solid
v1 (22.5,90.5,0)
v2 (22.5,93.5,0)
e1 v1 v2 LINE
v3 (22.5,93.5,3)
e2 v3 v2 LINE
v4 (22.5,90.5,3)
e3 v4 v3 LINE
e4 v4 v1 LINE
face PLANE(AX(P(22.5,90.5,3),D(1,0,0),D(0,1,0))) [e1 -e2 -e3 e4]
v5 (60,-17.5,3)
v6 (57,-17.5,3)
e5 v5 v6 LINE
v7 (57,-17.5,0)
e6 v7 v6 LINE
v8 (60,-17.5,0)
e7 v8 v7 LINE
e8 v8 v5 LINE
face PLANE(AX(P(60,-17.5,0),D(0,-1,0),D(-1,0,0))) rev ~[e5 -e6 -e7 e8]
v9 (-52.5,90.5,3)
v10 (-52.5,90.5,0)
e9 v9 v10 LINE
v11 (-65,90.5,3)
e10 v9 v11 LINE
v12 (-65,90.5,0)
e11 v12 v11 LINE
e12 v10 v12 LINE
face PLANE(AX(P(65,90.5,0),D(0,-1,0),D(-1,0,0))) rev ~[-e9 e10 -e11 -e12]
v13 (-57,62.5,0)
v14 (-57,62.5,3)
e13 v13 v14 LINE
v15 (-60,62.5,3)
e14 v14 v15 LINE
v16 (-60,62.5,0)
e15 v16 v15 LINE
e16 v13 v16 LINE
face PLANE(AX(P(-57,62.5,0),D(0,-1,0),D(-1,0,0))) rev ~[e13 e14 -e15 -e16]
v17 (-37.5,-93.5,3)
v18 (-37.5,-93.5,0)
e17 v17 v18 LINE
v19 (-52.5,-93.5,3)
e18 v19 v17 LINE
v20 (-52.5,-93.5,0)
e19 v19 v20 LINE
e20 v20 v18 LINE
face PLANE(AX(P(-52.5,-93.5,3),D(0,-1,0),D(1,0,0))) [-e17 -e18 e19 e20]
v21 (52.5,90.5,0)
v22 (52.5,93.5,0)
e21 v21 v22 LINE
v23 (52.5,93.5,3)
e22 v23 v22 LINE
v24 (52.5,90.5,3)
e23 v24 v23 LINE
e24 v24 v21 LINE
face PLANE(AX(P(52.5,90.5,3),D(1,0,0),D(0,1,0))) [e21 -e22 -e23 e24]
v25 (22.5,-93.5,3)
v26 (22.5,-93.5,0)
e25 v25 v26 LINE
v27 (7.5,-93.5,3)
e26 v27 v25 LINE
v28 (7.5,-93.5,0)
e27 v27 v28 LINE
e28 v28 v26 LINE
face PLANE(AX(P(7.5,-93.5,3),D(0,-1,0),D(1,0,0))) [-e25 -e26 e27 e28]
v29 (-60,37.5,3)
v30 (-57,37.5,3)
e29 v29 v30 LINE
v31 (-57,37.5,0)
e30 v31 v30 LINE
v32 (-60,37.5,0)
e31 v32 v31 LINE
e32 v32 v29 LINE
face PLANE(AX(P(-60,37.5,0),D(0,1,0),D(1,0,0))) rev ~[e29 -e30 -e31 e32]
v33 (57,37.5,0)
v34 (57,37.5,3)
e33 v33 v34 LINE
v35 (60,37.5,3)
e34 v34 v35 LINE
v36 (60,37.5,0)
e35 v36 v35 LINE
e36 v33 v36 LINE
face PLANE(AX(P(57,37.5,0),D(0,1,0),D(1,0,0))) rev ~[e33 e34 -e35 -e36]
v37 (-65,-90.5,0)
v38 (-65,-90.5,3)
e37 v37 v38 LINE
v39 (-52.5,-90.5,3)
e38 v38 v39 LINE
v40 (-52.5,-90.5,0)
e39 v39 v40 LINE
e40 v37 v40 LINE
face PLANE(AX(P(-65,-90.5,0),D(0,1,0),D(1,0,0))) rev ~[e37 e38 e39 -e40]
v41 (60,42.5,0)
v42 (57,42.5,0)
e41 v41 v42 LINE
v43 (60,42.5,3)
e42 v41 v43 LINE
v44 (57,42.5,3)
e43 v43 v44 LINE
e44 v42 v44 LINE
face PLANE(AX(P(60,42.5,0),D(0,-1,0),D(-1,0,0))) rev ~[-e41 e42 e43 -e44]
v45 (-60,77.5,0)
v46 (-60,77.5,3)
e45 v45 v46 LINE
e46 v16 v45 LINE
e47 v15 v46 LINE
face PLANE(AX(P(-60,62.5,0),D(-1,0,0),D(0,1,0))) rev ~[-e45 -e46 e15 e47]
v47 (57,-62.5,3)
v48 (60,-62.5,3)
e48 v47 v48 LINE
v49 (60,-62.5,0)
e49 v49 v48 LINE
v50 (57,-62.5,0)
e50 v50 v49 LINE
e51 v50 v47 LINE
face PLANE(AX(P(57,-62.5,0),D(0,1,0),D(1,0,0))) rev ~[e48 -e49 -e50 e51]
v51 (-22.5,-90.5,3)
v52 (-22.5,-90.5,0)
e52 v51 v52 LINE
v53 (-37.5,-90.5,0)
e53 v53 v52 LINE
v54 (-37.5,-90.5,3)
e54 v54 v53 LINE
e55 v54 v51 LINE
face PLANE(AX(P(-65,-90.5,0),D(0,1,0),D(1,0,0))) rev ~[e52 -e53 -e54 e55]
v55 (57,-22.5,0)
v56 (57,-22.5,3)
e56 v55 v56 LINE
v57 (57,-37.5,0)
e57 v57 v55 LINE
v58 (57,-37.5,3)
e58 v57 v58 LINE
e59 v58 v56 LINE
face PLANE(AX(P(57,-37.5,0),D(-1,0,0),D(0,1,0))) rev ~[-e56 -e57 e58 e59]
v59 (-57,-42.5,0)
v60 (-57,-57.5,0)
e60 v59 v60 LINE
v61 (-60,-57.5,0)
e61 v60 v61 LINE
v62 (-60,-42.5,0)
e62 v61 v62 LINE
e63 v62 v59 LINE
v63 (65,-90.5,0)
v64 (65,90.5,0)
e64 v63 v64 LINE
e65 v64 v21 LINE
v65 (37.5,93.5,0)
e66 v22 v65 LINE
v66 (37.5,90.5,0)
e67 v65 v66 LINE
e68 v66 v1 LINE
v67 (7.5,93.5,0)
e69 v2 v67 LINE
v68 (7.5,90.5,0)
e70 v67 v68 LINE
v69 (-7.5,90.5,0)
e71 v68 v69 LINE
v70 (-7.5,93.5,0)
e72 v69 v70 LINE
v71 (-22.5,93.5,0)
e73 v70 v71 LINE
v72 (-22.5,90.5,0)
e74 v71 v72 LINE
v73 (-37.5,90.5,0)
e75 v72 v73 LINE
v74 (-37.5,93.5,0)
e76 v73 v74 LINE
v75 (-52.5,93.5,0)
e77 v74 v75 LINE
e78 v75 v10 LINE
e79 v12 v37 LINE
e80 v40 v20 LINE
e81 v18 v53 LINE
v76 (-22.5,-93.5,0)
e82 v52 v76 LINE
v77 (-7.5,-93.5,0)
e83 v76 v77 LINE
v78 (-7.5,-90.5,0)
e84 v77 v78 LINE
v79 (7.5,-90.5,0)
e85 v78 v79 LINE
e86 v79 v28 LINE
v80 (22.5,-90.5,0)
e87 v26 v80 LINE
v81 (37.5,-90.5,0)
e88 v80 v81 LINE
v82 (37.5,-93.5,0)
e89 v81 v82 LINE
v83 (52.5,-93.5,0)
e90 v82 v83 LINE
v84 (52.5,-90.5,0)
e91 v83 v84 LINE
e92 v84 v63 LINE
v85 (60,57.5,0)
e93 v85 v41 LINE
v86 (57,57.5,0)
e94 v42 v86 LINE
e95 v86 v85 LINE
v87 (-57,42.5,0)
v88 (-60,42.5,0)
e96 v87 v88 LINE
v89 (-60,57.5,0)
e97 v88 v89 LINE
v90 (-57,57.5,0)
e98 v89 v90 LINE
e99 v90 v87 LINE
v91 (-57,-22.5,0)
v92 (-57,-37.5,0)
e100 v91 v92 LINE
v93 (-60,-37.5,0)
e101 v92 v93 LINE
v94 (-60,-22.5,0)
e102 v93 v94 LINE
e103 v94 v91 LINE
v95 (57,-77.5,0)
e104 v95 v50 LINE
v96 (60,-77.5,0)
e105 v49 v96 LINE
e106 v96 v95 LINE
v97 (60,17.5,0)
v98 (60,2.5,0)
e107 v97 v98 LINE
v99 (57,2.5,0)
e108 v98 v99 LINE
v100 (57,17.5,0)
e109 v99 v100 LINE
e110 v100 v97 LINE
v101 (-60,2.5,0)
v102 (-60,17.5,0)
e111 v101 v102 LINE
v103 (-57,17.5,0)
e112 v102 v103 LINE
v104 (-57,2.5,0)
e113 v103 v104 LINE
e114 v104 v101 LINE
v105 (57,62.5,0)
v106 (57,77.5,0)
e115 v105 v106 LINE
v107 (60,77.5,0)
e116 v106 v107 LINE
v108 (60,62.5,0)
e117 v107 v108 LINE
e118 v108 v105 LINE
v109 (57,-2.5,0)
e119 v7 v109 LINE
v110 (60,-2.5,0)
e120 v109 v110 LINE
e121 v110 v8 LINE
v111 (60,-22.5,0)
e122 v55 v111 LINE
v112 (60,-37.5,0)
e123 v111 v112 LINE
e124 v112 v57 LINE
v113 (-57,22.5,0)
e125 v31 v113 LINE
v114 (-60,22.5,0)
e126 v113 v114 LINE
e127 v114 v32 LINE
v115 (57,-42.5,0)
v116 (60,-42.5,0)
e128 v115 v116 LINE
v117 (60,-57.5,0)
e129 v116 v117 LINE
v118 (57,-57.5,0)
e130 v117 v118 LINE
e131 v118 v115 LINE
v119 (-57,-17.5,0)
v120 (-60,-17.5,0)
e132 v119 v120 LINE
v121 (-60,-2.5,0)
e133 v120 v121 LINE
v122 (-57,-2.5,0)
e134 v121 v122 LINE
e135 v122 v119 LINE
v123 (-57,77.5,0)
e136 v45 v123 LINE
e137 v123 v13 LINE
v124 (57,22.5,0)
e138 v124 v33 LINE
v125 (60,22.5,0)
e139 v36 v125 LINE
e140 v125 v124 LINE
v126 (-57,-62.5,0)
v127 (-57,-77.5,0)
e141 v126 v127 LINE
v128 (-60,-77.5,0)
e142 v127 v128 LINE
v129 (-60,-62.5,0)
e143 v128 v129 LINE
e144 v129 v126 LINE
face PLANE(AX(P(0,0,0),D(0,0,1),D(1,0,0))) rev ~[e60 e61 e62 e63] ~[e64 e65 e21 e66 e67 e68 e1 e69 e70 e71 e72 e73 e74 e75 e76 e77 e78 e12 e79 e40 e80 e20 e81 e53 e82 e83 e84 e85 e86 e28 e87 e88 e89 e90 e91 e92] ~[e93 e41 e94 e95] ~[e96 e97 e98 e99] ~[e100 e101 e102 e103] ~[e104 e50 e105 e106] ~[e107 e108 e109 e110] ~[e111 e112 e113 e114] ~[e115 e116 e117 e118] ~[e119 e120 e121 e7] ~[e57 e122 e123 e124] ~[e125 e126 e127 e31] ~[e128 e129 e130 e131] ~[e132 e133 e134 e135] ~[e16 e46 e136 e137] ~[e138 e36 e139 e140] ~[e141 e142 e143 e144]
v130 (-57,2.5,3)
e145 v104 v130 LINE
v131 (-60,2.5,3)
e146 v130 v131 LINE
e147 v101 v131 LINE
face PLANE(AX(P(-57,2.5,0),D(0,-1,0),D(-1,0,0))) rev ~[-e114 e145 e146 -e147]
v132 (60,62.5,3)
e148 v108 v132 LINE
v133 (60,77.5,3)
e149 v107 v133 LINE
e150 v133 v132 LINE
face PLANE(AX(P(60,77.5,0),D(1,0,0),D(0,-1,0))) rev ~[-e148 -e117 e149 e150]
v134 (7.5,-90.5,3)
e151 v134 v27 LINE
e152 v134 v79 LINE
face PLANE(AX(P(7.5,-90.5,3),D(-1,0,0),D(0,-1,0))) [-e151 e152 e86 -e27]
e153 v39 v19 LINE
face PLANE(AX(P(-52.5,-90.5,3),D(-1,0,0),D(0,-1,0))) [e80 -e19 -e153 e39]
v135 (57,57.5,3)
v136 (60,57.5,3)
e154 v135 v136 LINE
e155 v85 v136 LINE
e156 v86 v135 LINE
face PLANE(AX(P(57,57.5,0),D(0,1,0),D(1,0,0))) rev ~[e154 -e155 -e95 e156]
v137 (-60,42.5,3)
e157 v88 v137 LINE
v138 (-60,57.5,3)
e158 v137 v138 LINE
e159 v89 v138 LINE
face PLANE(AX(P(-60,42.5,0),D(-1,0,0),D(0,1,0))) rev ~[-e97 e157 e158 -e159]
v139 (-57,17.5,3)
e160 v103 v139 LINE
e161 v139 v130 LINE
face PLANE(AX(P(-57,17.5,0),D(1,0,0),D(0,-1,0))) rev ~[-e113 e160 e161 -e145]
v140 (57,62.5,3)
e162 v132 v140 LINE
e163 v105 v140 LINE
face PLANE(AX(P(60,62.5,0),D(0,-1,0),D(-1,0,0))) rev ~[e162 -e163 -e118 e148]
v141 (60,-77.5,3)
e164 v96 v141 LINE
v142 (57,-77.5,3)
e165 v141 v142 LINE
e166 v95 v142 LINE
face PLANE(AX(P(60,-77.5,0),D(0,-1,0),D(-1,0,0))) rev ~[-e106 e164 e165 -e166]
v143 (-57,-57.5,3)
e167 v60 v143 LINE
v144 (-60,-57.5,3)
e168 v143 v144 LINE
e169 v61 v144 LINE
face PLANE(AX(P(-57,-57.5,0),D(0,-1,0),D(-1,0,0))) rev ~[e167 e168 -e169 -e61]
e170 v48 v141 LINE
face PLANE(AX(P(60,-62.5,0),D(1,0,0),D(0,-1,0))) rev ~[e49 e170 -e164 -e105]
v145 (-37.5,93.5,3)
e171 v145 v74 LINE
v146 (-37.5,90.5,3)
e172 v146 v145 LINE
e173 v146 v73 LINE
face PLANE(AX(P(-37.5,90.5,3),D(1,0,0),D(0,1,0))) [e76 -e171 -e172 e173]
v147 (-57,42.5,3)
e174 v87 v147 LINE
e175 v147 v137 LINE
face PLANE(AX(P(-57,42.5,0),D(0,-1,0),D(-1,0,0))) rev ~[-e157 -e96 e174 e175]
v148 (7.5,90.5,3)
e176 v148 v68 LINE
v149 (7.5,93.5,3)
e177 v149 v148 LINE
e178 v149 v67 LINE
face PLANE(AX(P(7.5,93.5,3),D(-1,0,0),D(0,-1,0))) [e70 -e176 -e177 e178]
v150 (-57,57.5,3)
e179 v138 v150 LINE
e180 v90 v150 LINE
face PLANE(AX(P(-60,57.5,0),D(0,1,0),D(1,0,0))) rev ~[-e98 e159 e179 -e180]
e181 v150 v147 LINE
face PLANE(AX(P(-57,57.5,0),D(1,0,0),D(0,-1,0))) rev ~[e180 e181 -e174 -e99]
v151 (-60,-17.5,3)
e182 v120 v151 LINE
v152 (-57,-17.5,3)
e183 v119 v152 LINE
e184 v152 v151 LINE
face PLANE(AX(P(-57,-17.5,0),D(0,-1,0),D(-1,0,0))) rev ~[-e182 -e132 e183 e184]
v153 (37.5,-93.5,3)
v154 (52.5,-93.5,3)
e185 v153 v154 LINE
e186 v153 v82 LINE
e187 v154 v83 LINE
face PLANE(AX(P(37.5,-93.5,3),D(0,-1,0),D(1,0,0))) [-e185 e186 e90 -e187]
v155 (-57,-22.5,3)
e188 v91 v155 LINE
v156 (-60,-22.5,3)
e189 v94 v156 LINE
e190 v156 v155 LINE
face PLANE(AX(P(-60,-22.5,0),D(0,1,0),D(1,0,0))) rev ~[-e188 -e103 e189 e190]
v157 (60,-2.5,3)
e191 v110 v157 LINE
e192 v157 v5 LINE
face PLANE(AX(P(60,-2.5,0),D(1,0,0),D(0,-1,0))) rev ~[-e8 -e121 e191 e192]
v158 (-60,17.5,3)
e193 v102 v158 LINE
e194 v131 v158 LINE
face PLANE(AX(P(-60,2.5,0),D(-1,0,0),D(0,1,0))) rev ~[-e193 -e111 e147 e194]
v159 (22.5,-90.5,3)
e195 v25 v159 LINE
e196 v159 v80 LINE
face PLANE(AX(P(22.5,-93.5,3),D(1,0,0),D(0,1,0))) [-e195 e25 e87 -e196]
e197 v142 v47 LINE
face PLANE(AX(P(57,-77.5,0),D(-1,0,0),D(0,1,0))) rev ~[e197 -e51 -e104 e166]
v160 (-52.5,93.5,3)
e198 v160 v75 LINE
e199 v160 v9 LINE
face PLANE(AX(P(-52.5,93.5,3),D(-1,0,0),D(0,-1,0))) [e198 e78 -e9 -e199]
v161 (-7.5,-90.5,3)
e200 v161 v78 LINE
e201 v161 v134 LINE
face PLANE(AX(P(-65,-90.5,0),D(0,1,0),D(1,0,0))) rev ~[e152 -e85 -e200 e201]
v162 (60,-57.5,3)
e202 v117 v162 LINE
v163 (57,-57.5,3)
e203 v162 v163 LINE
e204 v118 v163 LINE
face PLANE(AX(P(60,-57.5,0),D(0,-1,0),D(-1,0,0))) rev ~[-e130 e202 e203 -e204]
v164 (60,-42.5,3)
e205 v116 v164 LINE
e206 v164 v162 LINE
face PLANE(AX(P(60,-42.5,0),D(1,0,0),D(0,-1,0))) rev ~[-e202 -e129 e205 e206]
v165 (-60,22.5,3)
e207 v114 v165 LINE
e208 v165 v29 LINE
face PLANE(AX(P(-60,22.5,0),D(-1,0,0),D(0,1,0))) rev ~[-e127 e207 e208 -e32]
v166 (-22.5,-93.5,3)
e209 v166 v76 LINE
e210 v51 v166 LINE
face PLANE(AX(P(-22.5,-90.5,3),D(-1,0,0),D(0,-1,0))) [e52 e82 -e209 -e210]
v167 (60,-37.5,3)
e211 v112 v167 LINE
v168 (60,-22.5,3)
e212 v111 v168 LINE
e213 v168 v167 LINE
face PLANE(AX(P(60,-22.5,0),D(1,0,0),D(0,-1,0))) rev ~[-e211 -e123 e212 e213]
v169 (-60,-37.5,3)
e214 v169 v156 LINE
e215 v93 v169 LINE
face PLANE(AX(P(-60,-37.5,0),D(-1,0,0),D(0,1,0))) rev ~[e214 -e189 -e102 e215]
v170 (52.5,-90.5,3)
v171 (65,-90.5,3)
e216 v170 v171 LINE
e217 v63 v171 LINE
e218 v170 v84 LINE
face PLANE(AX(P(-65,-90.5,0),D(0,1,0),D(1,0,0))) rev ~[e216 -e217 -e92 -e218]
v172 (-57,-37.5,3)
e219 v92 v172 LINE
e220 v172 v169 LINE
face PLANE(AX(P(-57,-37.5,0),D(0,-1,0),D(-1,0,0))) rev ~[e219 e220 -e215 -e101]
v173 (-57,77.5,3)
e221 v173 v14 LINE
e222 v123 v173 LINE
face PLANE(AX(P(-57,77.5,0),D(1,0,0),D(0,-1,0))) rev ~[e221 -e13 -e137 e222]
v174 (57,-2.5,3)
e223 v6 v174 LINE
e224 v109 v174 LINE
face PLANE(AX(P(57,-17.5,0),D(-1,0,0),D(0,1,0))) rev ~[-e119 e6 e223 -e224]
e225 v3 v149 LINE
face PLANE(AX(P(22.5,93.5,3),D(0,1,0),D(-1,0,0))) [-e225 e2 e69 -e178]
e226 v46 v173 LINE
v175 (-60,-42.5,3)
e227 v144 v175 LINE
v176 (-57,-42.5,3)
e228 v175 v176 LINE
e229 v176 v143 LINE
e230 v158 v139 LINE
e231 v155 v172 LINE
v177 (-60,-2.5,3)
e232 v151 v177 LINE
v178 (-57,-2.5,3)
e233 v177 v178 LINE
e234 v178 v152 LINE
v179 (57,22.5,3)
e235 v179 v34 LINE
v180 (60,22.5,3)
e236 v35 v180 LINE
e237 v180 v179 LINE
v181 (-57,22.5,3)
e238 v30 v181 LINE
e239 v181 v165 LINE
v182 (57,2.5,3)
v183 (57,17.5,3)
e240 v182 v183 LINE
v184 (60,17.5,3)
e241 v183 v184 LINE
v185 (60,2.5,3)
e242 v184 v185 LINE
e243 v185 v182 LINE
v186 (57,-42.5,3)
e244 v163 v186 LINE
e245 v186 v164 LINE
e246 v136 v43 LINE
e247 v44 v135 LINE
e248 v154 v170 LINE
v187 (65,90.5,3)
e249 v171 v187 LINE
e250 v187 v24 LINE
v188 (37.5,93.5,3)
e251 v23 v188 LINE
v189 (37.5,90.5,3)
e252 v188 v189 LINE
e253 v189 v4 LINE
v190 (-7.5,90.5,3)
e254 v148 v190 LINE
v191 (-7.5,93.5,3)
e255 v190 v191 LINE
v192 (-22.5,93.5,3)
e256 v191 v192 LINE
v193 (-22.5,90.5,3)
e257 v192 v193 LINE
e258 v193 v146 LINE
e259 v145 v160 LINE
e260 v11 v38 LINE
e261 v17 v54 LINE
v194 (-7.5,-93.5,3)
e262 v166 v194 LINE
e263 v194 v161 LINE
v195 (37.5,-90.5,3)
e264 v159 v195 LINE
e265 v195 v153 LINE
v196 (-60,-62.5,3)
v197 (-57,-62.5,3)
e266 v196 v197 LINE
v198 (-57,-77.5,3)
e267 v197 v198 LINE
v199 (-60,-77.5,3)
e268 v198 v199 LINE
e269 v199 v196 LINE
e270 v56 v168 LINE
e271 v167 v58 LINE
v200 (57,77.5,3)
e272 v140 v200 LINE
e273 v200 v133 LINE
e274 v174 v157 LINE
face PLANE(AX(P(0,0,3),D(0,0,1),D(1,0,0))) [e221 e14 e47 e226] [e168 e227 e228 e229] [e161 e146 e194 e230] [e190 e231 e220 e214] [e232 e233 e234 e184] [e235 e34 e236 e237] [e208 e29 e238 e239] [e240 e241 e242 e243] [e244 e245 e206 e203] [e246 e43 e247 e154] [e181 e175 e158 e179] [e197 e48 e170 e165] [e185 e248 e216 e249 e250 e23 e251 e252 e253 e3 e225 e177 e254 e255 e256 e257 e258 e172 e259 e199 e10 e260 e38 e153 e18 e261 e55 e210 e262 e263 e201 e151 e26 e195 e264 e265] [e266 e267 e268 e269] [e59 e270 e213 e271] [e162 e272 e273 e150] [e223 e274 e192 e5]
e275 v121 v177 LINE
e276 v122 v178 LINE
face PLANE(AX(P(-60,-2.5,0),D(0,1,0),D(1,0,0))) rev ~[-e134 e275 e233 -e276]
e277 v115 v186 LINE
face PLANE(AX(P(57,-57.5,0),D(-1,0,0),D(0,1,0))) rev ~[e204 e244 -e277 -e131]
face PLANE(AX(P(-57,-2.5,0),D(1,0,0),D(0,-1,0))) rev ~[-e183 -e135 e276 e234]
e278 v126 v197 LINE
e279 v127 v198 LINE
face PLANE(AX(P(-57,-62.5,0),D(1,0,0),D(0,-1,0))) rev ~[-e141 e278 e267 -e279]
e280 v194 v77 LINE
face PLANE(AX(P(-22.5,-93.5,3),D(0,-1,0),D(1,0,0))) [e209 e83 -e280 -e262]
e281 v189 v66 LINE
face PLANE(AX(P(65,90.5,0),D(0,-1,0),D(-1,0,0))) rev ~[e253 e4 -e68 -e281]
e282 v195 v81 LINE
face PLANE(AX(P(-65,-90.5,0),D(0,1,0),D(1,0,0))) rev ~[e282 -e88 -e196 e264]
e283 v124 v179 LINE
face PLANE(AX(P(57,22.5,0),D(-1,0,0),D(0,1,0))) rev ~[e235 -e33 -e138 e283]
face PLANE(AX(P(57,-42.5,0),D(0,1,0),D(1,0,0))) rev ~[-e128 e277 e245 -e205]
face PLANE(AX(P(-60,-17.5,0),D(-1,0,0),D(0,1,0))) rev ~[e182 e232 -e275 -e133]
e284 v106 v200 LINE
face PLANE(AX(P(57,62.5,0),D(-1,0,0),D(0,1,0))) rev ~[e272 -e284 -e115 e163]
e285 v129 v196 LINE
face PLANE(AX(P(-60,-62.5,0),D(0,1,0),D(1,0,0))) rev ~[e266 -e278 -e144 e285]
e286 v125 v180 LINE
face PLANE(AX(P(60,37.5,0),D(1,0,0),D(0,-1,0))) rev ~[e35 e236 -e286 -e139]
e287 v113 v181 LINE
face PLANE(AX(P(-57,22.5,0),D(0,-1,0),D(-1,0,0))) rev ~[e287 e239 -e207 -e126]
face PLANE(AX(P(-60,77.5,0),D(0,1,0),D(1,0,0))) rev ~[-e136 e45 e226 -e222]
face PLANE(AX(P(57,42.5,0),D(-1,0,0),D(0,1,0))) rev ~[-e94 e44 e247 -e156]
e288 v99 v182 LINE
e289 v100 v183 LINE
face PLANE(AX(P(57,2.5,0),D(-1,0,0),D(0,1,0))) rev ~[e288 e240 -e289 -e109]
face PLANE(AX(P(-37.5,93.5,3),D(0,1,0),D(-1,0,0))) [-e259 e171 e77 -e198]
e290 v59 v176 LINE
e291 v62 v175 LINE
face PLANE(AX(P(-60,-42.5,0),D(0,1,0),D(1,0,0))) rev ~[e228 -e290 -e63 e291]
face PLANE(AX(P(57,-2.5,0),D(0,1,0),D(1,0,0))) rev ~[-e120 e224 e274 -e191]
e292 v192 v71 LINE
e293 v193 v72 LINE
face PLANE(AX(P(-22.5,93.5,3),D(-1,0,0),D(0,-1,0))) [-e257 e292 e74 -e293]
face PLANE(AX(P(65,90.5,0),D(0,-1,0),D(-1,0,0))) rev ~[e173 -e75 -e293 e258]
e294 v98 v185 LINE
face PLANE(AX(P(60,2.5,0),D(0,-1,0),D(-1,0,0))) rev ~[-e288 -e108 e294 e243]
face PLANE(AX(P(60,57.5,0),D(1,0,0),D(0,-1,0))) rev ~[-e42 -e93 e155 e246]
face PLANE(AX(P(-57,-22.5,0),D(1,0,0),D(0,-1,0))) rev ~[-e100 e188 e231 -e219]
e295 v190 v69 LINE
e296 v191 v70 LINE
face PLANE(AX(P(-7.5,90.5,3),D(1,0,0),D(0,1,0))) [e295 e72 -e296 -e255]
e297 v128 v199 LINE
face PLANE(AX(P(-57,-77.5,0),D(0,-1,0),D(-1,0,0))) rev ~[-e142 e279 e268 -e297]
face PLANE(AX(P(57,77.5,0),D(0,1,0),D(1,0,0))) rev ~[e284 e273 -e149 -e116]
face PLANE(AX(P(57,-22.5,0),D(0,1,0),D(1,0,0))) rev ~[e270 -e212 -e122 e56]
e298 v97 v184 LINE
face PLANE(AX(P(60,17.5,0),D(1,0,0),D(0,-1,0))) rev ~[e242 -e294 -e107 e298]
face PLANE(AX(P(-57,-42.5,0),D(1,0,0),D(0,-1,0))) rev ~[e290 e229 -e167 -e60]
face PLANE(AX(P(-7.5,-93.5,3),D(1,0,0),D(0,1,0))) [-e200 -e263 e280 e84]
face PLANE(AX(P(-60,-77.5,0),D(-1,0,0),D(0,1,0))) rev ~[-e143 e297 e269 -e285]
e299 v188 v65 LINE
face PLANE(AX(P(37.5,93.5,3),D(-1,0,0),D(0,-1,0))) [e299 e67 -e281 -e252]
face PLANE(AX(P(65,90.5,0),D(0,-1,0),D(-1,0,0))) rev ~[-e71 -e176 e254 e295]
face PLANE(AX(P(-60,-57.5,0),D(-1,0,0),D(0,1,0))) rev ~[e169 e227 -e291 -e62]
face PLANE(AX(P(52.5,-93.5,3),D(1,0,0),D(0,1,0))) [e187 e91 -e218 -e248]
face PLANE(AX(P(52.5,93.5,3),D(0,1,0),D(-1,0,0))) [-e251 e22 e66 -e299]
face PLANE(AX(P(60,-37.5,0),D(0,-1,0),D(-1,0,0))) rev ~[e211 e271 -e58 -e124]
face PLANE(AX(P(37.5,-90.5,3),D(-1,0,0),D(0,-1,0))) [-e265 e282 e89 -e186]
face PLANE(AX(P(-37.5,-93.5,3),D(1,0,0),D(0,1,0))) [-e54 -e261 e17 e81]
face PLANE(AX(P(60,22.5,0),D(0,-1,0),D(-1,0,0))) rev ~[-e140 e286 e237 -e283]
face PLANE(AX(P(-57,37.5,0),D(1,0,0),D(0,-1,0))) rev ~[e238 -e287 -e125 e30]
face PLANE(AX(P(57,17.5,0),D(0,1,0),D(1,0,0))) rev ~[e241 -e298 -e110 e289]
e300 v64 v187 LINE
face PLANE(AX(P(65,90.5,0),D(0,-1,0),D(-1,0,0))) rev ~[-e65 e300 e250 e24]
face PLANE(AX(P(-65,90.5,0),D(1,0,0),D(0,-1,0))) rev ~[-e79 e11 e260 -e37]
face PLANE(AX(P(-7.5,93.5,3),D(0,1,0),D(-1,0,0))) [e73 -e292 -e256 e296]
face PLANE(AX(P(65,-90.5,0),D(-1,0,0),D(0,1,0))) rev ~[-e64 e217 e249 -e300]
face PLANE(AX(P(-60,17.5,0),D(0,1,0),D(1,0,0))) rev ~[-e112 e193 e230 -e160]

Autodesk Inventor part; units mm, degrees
ref_plane "YZ Plane" through (0, 0, 0) normal (1, 0, 0) x (0, 1, 0)
ref_plane "XZ Plane" through (0, 0, 0) normal (0, 1, 0) x (-1, 0, 0)
ref_plane "XY Plane" through (0, 0, 0) normal (0, 0, 1) x (1, 0, 0)
sketch "Sketch1" plane through (0, 0, 0) normal (0, 0, 1) x (1, 0, 0)
  line L0 (-65, -90.5) -> (65, -90.5)
  line L1 (65, -90.5) -> (65, 90.5)
  line L2 (65, 90.5) -> (-65, 90.5)
  line L3 (-65, 90.5) -> (-65, -90.5)
  line L4 (-65, -90.5) -> (65, 90.5) construction
  line L5 (65, -90.5) -> (-65, 90.5) construction
  line L6 (-60, 77.5) -> (-57, 77.5)
  line L7 (-57, 77.5) -> (-57, 62.5)
  line L8 (-57, 62.5) -> (-60, 62.5)
  line L9 (-60, 62.5) -> (-60, 77.5)
  line L10 (-60, 77.5) -> (-57, 62.5) construction
  line L11 (-57, 77.5) -> (-60, 62.5) construction
  line L12 (-60, 57.5) -> (-57, 57.5)
  line L13 (-57, 57.5) -> (-57, 42.5)
  line L14 (-57, 42.5) -> (-60, 42.5)
  line L15 (-60, 42.5) -> (-60, 57.5)
  line L16 (-60, 57.5) -> (-57, 42.5) construction
  line L17 (-57, 57.5) -> (-60, 42.5) construction
  line L18 (-60, 37.5) -> (-57, 37.5)
  line L19 (-57, 37.5) -> (-57, 22.5)
  line L20 (-57, 22.5) -> (-60, 22.5)
  line L21 (-60, 22.5) -> (-60, 37.5)
  line L22 (-60, 37.5) -> (-57, 22.5) construction
  line L23 (-57, 37.5) -> (-60, 22.5) construction
  line L24 (-60, 17.5) -> (-57, 17.5)
  line L25 (-57, 17.5) -> (-57, 2.5)
  line L26 (-57, 2.5) -> (-60, 2.5)
  line L27 (-60, 2.5) -> (-60, 17.5)
  line L28 (-60, 17.5) -> (-57, 2.5) construction
  line L29 (-57, 17.5) -> (-60, 2.5) construction
  line L30 (-60, -2.5) -> (-57, -2.5)
  line L31 (-57, -2.5) -> (-57, -17.5)
  line L32 (-57, -17.5) -> (-60, -17.5)
  line L33 (-60, -17.5) -> (-60, -2.5)
  line L34 (-60, -2.5) -> (-57, -17.5) construction
  line L35 (-57, -2.5) -> (-60, -17.5) construction
  line L36 (-60, -22.5) -> (-57, -22.5)
  line L37 (-57, -22.5) -> (-57, -37.5)
  line L38 (-57, -37.5) -> (-60, -37.5)
  line L39 (-60, -37.5) -> (-60, -22.5)
  line L40 (-60, -22.5) -> (-57, -37.5) construction
  line L41 (-57, -22.5) -> (-60, -37.5) construction
  line L42 (-60, -42.5) -> (-57, -42.5)
  line L43 (-57, -42.5) -> (-57, -57.5)
  line L44 (-57, -57.5) -> (-60, -57.5)
  line L45 (-60, -57.5) -> (-60, -42.5)
  line L46 (-60, -42.5) -> (-57, -57.5) construction
  line L47 (-57, -42.5) -> (-60, -57.5) construction
  line L48 (-60, -62.5) -> (-57, -62.5)
  line L49 (-57, -62.5) -> (-57, -77.5)
  line L50 (-57, -77.5) -> (-60, -77.5)
  line L51 (-60, -77.5) -> (-60, -62.5)
  line L52 (-60, -62.5) -> (-57, -77.5) construction
  line L53 (-57, -62.5) -> (-60, -77.5) construction
  line L54 (57, 77.5) -> (60, 77.5)
  line L55 (60, 77.5) -> (60, 62.5)
  line L56 (60, 62.5) -> (57, 62.5)
  line L57 (57, 62.5) -> (57, 77.5)
  line L58 (57, 77.5) -> (60, 62.5) construction
  line L59 (60, 77.5) -> (57, 62.5) construction
  line L60 (57, 57.5) -> (60, 57.5)
  line L61 (60, 57.5) -> (60, 42.5)
  line L62 (60, 42.5) -> (57, 42.5)
  line L63 (57, 42.5) -> (57, 57.5)
  line L64 (57, 57.5) -> (60, 42.5) construction
  line L65 (60, 57.5) -> (57, 42.5) construction
  line L66 (57, 37.5) -> (60, 37.5)
  line L67 (60, 37.5) -> (60, 22.5)
  line L68 (60, 22.5) -> (57, 22.5)
  line L69 (57, 22.5) -> (57, 37.5)
  line L70 (57, 37.5) -> (60, 22.5) construction
  line L71 (60, 37.5) -> (57, 22.5) construction
  line L72 (57, 17.5) -> (60, 17.5)
  line L73 (60, 17.5) -> (60, 2.5)
  line L74 (60, 2.5) -> (57, 2.5)
  line L75 (57, 2.5) -> (57, 17.5)
  line L76 (57, 17.5) -> (60, 2.5) construction
  line L77 (60, 17.5) -> (57, 2.5) construction
  line L78 (57, -2.5) -> (60, -2.5)
  line L79 (60, -2.5) -> (60, -17.5)
  line L80 (60, -17.5) -> (57, -17.5)
  line L81 (57, -17.5) -> (57, -2.5)
  line L82 (57, -2.5) -> (60, -17.5) construction
  line L83 (60, -2.5) -> (57, -17.5) construction
  line L84 (57, -22.5) -> (60, -22.5)
  line L85 (60, -22.5) -> (60, -37.5)
  line L86 (60, -37.5) -> (57, -37.5)
  line L87 (57, -37.5) -> (57, -22.5)
  line L88 (57, -22.5) -> (60, -37.5) construction
  line L89 (60, -22.5) -> (57, -37.5) construction
  line L90 (57, -42.5) -> (60, -42.5)
  line L91 (60, -42.5) -> (60, -57.5)
  line L92 (60, -57.5) -> (57, -57.5)
  line L93 (57, -57.5) -> (57, -42.5)
  line L94 (57, -42.5) -> (60, -57.5) construction
  line L95 (60, -42.5) -> (57, -57.5) construction
  line L96 (57, -62.5) -> (60, -62.5)
  line L97 (60, -62.5) -> (60, -77.5)
  line L98 (60, -77.5) -> (57, -77.5)
  line L99 (57, -77.5) -> (57, -62.5)
  line L100 (57, -62.5) -> (60, -77.5) construction
  line L101 (60, -62.5) -> (57, -77.5) construction
  point P0 (0, 0)
  point P1 (-58.5, 70)
  point P2 (-58.5, 50)
  point P3 (-58.5, 30)
  point P4 (-58.5, 10)
  point P5 (-58.5, -10)
  point P6 (-58.5, -30)
  point P7 (-58.5, -50)
  point P8 (-58.5, -70)
  point P9 (58.5, 70)
  point P10 (58.5, 50)
  point P11 (58.5, 30)
  point P12 (58.5, 10)
  point P13 (58.5, -10)
  point P14 (58.5, -30)
  point P15 (58.5, -50)
  point P16 (58.5, -70)
  dimension "d0" = 130
  dimension "d1" = 181
  dimension "d2" = 3
  dimension "d3" = 15
  dimension "d8" = 5
  dimension "d9" = 13
  dimension "d12" = 20
  dimension "d15" = 117
extrude "Extrusion1" add sketch "Sketch1" along normal blind 3
sketch "Sketch2" plane through (0, 0, 3) normal (0, 0, 1) x (1, 0, 0)
  line L0 (65, 90.5) -> (-65, 90.5) projected
  line L1 (-52.5, 90.5) -> (-37.5, 90.5)
  line L2 (-37.5, 90.5) -> (-37.5, 93.5)
  line L3 (-37.5, 93.5) -> (-52.5, 93.5)
  line L4 (-52.5, 93.5) -> (-52.5, 90.5)
  line L5 (-22.5, 90.5) -> (-7.5, 90.5)
  line L6 (-7.5, 90.5) -> (-7.5, 93.5)
  line L7 (-7.5, 93.5) -> (-22.5, 93.5)
  line L8 (-22.5, 93.5) -> (-22.5, 90.5)
  line L9 (7.5, 90.5) -> (22.5, 90.5)
  line L10 (22.5, 90.5) -> (22.5, 93.5)
  line L11 (22.5, 93.5) -> (7.5, 93.5)
  line L12 (7.5, 93.5) -> (7.5, 90.5)
  line L13 (37.5, 90.5) -> (52.5, 90.5)
  line L14 (52.5, 90.5) -> (52.5, 93.5)
  line L15 (52.5, 93.5) -> (37.5, 93.5)
  line L16 (37.5, 93.5) -> (37.5, 90.5)
  line L17 (-52.5, -93.5) -> (-37.5, -93.5)
  line L18 (-37.5, -93.5) -> (-37.5, -90.5)
  line L19 (-37.5, -90.5) -> (-52.5, -90.5)
  line L20 (-52.5, -90.5) -> (-52.5, -93.5)
  line L21 (-22.5, -93.5) -> (-7.5, -93.5)
  line L22 (-7.5, -93.5) -> (-7.5, -90.5)
  line L23 (-7.5, -90.5) -> (-22.5, -90.5)
  line L24 (-22.5, -90.5) -> (-22.5, -93.5)
  line L25 (7.5, -93.5) -> (22.5, -93.5)
  line L26 (22.5, -93.5) -> (22.5, -90.5)
  line L27 (22.5, -90.5) -> (7.5, -90.5)
  line L28 (7.5, -90.5) -> (7.5, -93.5)
  line L29 (37.5, -93.5) -> (52.5, -93.5)
  line L30 (52.5, -93.5) -> (52.5, -90.5)
  line L31 (52.5, -90.5) -> (37.5, -90.5)
  line L32 (37.5, -90.5) -> (37.5, -93.5)
  line L33 (-65, 90.5) -> (-65, -90.5) projected
  point P0 (0, 0)
  dimension "d20" = 15
  dimension "d21" = 3
  dimension "d24" = 30
  dimension "d27" = 184
  dimension "d30" = 12.5
extrude "Extrusion2" add sketch "Sketch2" against normal blind 3
equation "\"BendRadius\" = Thickness"
equation "\"BendReliefWidth\" = Thickness"
equation "\"BendReliefDepth\" = 0.5 * Thickness"
equation "\"CornerReliefSize\" = 4 * Thickness"
equation "\"MinimumRemnant\" = 2 * Thickness"
equation "\"TransitionRadius\" = BendRadius"
equation "\"JacobiRadiusSize\" = BendRadius"
equation "\"GapSize\" = Thickness"
equation "\"Thickness\" = 0.5"
properties part number "1 binnen achterplaat"
